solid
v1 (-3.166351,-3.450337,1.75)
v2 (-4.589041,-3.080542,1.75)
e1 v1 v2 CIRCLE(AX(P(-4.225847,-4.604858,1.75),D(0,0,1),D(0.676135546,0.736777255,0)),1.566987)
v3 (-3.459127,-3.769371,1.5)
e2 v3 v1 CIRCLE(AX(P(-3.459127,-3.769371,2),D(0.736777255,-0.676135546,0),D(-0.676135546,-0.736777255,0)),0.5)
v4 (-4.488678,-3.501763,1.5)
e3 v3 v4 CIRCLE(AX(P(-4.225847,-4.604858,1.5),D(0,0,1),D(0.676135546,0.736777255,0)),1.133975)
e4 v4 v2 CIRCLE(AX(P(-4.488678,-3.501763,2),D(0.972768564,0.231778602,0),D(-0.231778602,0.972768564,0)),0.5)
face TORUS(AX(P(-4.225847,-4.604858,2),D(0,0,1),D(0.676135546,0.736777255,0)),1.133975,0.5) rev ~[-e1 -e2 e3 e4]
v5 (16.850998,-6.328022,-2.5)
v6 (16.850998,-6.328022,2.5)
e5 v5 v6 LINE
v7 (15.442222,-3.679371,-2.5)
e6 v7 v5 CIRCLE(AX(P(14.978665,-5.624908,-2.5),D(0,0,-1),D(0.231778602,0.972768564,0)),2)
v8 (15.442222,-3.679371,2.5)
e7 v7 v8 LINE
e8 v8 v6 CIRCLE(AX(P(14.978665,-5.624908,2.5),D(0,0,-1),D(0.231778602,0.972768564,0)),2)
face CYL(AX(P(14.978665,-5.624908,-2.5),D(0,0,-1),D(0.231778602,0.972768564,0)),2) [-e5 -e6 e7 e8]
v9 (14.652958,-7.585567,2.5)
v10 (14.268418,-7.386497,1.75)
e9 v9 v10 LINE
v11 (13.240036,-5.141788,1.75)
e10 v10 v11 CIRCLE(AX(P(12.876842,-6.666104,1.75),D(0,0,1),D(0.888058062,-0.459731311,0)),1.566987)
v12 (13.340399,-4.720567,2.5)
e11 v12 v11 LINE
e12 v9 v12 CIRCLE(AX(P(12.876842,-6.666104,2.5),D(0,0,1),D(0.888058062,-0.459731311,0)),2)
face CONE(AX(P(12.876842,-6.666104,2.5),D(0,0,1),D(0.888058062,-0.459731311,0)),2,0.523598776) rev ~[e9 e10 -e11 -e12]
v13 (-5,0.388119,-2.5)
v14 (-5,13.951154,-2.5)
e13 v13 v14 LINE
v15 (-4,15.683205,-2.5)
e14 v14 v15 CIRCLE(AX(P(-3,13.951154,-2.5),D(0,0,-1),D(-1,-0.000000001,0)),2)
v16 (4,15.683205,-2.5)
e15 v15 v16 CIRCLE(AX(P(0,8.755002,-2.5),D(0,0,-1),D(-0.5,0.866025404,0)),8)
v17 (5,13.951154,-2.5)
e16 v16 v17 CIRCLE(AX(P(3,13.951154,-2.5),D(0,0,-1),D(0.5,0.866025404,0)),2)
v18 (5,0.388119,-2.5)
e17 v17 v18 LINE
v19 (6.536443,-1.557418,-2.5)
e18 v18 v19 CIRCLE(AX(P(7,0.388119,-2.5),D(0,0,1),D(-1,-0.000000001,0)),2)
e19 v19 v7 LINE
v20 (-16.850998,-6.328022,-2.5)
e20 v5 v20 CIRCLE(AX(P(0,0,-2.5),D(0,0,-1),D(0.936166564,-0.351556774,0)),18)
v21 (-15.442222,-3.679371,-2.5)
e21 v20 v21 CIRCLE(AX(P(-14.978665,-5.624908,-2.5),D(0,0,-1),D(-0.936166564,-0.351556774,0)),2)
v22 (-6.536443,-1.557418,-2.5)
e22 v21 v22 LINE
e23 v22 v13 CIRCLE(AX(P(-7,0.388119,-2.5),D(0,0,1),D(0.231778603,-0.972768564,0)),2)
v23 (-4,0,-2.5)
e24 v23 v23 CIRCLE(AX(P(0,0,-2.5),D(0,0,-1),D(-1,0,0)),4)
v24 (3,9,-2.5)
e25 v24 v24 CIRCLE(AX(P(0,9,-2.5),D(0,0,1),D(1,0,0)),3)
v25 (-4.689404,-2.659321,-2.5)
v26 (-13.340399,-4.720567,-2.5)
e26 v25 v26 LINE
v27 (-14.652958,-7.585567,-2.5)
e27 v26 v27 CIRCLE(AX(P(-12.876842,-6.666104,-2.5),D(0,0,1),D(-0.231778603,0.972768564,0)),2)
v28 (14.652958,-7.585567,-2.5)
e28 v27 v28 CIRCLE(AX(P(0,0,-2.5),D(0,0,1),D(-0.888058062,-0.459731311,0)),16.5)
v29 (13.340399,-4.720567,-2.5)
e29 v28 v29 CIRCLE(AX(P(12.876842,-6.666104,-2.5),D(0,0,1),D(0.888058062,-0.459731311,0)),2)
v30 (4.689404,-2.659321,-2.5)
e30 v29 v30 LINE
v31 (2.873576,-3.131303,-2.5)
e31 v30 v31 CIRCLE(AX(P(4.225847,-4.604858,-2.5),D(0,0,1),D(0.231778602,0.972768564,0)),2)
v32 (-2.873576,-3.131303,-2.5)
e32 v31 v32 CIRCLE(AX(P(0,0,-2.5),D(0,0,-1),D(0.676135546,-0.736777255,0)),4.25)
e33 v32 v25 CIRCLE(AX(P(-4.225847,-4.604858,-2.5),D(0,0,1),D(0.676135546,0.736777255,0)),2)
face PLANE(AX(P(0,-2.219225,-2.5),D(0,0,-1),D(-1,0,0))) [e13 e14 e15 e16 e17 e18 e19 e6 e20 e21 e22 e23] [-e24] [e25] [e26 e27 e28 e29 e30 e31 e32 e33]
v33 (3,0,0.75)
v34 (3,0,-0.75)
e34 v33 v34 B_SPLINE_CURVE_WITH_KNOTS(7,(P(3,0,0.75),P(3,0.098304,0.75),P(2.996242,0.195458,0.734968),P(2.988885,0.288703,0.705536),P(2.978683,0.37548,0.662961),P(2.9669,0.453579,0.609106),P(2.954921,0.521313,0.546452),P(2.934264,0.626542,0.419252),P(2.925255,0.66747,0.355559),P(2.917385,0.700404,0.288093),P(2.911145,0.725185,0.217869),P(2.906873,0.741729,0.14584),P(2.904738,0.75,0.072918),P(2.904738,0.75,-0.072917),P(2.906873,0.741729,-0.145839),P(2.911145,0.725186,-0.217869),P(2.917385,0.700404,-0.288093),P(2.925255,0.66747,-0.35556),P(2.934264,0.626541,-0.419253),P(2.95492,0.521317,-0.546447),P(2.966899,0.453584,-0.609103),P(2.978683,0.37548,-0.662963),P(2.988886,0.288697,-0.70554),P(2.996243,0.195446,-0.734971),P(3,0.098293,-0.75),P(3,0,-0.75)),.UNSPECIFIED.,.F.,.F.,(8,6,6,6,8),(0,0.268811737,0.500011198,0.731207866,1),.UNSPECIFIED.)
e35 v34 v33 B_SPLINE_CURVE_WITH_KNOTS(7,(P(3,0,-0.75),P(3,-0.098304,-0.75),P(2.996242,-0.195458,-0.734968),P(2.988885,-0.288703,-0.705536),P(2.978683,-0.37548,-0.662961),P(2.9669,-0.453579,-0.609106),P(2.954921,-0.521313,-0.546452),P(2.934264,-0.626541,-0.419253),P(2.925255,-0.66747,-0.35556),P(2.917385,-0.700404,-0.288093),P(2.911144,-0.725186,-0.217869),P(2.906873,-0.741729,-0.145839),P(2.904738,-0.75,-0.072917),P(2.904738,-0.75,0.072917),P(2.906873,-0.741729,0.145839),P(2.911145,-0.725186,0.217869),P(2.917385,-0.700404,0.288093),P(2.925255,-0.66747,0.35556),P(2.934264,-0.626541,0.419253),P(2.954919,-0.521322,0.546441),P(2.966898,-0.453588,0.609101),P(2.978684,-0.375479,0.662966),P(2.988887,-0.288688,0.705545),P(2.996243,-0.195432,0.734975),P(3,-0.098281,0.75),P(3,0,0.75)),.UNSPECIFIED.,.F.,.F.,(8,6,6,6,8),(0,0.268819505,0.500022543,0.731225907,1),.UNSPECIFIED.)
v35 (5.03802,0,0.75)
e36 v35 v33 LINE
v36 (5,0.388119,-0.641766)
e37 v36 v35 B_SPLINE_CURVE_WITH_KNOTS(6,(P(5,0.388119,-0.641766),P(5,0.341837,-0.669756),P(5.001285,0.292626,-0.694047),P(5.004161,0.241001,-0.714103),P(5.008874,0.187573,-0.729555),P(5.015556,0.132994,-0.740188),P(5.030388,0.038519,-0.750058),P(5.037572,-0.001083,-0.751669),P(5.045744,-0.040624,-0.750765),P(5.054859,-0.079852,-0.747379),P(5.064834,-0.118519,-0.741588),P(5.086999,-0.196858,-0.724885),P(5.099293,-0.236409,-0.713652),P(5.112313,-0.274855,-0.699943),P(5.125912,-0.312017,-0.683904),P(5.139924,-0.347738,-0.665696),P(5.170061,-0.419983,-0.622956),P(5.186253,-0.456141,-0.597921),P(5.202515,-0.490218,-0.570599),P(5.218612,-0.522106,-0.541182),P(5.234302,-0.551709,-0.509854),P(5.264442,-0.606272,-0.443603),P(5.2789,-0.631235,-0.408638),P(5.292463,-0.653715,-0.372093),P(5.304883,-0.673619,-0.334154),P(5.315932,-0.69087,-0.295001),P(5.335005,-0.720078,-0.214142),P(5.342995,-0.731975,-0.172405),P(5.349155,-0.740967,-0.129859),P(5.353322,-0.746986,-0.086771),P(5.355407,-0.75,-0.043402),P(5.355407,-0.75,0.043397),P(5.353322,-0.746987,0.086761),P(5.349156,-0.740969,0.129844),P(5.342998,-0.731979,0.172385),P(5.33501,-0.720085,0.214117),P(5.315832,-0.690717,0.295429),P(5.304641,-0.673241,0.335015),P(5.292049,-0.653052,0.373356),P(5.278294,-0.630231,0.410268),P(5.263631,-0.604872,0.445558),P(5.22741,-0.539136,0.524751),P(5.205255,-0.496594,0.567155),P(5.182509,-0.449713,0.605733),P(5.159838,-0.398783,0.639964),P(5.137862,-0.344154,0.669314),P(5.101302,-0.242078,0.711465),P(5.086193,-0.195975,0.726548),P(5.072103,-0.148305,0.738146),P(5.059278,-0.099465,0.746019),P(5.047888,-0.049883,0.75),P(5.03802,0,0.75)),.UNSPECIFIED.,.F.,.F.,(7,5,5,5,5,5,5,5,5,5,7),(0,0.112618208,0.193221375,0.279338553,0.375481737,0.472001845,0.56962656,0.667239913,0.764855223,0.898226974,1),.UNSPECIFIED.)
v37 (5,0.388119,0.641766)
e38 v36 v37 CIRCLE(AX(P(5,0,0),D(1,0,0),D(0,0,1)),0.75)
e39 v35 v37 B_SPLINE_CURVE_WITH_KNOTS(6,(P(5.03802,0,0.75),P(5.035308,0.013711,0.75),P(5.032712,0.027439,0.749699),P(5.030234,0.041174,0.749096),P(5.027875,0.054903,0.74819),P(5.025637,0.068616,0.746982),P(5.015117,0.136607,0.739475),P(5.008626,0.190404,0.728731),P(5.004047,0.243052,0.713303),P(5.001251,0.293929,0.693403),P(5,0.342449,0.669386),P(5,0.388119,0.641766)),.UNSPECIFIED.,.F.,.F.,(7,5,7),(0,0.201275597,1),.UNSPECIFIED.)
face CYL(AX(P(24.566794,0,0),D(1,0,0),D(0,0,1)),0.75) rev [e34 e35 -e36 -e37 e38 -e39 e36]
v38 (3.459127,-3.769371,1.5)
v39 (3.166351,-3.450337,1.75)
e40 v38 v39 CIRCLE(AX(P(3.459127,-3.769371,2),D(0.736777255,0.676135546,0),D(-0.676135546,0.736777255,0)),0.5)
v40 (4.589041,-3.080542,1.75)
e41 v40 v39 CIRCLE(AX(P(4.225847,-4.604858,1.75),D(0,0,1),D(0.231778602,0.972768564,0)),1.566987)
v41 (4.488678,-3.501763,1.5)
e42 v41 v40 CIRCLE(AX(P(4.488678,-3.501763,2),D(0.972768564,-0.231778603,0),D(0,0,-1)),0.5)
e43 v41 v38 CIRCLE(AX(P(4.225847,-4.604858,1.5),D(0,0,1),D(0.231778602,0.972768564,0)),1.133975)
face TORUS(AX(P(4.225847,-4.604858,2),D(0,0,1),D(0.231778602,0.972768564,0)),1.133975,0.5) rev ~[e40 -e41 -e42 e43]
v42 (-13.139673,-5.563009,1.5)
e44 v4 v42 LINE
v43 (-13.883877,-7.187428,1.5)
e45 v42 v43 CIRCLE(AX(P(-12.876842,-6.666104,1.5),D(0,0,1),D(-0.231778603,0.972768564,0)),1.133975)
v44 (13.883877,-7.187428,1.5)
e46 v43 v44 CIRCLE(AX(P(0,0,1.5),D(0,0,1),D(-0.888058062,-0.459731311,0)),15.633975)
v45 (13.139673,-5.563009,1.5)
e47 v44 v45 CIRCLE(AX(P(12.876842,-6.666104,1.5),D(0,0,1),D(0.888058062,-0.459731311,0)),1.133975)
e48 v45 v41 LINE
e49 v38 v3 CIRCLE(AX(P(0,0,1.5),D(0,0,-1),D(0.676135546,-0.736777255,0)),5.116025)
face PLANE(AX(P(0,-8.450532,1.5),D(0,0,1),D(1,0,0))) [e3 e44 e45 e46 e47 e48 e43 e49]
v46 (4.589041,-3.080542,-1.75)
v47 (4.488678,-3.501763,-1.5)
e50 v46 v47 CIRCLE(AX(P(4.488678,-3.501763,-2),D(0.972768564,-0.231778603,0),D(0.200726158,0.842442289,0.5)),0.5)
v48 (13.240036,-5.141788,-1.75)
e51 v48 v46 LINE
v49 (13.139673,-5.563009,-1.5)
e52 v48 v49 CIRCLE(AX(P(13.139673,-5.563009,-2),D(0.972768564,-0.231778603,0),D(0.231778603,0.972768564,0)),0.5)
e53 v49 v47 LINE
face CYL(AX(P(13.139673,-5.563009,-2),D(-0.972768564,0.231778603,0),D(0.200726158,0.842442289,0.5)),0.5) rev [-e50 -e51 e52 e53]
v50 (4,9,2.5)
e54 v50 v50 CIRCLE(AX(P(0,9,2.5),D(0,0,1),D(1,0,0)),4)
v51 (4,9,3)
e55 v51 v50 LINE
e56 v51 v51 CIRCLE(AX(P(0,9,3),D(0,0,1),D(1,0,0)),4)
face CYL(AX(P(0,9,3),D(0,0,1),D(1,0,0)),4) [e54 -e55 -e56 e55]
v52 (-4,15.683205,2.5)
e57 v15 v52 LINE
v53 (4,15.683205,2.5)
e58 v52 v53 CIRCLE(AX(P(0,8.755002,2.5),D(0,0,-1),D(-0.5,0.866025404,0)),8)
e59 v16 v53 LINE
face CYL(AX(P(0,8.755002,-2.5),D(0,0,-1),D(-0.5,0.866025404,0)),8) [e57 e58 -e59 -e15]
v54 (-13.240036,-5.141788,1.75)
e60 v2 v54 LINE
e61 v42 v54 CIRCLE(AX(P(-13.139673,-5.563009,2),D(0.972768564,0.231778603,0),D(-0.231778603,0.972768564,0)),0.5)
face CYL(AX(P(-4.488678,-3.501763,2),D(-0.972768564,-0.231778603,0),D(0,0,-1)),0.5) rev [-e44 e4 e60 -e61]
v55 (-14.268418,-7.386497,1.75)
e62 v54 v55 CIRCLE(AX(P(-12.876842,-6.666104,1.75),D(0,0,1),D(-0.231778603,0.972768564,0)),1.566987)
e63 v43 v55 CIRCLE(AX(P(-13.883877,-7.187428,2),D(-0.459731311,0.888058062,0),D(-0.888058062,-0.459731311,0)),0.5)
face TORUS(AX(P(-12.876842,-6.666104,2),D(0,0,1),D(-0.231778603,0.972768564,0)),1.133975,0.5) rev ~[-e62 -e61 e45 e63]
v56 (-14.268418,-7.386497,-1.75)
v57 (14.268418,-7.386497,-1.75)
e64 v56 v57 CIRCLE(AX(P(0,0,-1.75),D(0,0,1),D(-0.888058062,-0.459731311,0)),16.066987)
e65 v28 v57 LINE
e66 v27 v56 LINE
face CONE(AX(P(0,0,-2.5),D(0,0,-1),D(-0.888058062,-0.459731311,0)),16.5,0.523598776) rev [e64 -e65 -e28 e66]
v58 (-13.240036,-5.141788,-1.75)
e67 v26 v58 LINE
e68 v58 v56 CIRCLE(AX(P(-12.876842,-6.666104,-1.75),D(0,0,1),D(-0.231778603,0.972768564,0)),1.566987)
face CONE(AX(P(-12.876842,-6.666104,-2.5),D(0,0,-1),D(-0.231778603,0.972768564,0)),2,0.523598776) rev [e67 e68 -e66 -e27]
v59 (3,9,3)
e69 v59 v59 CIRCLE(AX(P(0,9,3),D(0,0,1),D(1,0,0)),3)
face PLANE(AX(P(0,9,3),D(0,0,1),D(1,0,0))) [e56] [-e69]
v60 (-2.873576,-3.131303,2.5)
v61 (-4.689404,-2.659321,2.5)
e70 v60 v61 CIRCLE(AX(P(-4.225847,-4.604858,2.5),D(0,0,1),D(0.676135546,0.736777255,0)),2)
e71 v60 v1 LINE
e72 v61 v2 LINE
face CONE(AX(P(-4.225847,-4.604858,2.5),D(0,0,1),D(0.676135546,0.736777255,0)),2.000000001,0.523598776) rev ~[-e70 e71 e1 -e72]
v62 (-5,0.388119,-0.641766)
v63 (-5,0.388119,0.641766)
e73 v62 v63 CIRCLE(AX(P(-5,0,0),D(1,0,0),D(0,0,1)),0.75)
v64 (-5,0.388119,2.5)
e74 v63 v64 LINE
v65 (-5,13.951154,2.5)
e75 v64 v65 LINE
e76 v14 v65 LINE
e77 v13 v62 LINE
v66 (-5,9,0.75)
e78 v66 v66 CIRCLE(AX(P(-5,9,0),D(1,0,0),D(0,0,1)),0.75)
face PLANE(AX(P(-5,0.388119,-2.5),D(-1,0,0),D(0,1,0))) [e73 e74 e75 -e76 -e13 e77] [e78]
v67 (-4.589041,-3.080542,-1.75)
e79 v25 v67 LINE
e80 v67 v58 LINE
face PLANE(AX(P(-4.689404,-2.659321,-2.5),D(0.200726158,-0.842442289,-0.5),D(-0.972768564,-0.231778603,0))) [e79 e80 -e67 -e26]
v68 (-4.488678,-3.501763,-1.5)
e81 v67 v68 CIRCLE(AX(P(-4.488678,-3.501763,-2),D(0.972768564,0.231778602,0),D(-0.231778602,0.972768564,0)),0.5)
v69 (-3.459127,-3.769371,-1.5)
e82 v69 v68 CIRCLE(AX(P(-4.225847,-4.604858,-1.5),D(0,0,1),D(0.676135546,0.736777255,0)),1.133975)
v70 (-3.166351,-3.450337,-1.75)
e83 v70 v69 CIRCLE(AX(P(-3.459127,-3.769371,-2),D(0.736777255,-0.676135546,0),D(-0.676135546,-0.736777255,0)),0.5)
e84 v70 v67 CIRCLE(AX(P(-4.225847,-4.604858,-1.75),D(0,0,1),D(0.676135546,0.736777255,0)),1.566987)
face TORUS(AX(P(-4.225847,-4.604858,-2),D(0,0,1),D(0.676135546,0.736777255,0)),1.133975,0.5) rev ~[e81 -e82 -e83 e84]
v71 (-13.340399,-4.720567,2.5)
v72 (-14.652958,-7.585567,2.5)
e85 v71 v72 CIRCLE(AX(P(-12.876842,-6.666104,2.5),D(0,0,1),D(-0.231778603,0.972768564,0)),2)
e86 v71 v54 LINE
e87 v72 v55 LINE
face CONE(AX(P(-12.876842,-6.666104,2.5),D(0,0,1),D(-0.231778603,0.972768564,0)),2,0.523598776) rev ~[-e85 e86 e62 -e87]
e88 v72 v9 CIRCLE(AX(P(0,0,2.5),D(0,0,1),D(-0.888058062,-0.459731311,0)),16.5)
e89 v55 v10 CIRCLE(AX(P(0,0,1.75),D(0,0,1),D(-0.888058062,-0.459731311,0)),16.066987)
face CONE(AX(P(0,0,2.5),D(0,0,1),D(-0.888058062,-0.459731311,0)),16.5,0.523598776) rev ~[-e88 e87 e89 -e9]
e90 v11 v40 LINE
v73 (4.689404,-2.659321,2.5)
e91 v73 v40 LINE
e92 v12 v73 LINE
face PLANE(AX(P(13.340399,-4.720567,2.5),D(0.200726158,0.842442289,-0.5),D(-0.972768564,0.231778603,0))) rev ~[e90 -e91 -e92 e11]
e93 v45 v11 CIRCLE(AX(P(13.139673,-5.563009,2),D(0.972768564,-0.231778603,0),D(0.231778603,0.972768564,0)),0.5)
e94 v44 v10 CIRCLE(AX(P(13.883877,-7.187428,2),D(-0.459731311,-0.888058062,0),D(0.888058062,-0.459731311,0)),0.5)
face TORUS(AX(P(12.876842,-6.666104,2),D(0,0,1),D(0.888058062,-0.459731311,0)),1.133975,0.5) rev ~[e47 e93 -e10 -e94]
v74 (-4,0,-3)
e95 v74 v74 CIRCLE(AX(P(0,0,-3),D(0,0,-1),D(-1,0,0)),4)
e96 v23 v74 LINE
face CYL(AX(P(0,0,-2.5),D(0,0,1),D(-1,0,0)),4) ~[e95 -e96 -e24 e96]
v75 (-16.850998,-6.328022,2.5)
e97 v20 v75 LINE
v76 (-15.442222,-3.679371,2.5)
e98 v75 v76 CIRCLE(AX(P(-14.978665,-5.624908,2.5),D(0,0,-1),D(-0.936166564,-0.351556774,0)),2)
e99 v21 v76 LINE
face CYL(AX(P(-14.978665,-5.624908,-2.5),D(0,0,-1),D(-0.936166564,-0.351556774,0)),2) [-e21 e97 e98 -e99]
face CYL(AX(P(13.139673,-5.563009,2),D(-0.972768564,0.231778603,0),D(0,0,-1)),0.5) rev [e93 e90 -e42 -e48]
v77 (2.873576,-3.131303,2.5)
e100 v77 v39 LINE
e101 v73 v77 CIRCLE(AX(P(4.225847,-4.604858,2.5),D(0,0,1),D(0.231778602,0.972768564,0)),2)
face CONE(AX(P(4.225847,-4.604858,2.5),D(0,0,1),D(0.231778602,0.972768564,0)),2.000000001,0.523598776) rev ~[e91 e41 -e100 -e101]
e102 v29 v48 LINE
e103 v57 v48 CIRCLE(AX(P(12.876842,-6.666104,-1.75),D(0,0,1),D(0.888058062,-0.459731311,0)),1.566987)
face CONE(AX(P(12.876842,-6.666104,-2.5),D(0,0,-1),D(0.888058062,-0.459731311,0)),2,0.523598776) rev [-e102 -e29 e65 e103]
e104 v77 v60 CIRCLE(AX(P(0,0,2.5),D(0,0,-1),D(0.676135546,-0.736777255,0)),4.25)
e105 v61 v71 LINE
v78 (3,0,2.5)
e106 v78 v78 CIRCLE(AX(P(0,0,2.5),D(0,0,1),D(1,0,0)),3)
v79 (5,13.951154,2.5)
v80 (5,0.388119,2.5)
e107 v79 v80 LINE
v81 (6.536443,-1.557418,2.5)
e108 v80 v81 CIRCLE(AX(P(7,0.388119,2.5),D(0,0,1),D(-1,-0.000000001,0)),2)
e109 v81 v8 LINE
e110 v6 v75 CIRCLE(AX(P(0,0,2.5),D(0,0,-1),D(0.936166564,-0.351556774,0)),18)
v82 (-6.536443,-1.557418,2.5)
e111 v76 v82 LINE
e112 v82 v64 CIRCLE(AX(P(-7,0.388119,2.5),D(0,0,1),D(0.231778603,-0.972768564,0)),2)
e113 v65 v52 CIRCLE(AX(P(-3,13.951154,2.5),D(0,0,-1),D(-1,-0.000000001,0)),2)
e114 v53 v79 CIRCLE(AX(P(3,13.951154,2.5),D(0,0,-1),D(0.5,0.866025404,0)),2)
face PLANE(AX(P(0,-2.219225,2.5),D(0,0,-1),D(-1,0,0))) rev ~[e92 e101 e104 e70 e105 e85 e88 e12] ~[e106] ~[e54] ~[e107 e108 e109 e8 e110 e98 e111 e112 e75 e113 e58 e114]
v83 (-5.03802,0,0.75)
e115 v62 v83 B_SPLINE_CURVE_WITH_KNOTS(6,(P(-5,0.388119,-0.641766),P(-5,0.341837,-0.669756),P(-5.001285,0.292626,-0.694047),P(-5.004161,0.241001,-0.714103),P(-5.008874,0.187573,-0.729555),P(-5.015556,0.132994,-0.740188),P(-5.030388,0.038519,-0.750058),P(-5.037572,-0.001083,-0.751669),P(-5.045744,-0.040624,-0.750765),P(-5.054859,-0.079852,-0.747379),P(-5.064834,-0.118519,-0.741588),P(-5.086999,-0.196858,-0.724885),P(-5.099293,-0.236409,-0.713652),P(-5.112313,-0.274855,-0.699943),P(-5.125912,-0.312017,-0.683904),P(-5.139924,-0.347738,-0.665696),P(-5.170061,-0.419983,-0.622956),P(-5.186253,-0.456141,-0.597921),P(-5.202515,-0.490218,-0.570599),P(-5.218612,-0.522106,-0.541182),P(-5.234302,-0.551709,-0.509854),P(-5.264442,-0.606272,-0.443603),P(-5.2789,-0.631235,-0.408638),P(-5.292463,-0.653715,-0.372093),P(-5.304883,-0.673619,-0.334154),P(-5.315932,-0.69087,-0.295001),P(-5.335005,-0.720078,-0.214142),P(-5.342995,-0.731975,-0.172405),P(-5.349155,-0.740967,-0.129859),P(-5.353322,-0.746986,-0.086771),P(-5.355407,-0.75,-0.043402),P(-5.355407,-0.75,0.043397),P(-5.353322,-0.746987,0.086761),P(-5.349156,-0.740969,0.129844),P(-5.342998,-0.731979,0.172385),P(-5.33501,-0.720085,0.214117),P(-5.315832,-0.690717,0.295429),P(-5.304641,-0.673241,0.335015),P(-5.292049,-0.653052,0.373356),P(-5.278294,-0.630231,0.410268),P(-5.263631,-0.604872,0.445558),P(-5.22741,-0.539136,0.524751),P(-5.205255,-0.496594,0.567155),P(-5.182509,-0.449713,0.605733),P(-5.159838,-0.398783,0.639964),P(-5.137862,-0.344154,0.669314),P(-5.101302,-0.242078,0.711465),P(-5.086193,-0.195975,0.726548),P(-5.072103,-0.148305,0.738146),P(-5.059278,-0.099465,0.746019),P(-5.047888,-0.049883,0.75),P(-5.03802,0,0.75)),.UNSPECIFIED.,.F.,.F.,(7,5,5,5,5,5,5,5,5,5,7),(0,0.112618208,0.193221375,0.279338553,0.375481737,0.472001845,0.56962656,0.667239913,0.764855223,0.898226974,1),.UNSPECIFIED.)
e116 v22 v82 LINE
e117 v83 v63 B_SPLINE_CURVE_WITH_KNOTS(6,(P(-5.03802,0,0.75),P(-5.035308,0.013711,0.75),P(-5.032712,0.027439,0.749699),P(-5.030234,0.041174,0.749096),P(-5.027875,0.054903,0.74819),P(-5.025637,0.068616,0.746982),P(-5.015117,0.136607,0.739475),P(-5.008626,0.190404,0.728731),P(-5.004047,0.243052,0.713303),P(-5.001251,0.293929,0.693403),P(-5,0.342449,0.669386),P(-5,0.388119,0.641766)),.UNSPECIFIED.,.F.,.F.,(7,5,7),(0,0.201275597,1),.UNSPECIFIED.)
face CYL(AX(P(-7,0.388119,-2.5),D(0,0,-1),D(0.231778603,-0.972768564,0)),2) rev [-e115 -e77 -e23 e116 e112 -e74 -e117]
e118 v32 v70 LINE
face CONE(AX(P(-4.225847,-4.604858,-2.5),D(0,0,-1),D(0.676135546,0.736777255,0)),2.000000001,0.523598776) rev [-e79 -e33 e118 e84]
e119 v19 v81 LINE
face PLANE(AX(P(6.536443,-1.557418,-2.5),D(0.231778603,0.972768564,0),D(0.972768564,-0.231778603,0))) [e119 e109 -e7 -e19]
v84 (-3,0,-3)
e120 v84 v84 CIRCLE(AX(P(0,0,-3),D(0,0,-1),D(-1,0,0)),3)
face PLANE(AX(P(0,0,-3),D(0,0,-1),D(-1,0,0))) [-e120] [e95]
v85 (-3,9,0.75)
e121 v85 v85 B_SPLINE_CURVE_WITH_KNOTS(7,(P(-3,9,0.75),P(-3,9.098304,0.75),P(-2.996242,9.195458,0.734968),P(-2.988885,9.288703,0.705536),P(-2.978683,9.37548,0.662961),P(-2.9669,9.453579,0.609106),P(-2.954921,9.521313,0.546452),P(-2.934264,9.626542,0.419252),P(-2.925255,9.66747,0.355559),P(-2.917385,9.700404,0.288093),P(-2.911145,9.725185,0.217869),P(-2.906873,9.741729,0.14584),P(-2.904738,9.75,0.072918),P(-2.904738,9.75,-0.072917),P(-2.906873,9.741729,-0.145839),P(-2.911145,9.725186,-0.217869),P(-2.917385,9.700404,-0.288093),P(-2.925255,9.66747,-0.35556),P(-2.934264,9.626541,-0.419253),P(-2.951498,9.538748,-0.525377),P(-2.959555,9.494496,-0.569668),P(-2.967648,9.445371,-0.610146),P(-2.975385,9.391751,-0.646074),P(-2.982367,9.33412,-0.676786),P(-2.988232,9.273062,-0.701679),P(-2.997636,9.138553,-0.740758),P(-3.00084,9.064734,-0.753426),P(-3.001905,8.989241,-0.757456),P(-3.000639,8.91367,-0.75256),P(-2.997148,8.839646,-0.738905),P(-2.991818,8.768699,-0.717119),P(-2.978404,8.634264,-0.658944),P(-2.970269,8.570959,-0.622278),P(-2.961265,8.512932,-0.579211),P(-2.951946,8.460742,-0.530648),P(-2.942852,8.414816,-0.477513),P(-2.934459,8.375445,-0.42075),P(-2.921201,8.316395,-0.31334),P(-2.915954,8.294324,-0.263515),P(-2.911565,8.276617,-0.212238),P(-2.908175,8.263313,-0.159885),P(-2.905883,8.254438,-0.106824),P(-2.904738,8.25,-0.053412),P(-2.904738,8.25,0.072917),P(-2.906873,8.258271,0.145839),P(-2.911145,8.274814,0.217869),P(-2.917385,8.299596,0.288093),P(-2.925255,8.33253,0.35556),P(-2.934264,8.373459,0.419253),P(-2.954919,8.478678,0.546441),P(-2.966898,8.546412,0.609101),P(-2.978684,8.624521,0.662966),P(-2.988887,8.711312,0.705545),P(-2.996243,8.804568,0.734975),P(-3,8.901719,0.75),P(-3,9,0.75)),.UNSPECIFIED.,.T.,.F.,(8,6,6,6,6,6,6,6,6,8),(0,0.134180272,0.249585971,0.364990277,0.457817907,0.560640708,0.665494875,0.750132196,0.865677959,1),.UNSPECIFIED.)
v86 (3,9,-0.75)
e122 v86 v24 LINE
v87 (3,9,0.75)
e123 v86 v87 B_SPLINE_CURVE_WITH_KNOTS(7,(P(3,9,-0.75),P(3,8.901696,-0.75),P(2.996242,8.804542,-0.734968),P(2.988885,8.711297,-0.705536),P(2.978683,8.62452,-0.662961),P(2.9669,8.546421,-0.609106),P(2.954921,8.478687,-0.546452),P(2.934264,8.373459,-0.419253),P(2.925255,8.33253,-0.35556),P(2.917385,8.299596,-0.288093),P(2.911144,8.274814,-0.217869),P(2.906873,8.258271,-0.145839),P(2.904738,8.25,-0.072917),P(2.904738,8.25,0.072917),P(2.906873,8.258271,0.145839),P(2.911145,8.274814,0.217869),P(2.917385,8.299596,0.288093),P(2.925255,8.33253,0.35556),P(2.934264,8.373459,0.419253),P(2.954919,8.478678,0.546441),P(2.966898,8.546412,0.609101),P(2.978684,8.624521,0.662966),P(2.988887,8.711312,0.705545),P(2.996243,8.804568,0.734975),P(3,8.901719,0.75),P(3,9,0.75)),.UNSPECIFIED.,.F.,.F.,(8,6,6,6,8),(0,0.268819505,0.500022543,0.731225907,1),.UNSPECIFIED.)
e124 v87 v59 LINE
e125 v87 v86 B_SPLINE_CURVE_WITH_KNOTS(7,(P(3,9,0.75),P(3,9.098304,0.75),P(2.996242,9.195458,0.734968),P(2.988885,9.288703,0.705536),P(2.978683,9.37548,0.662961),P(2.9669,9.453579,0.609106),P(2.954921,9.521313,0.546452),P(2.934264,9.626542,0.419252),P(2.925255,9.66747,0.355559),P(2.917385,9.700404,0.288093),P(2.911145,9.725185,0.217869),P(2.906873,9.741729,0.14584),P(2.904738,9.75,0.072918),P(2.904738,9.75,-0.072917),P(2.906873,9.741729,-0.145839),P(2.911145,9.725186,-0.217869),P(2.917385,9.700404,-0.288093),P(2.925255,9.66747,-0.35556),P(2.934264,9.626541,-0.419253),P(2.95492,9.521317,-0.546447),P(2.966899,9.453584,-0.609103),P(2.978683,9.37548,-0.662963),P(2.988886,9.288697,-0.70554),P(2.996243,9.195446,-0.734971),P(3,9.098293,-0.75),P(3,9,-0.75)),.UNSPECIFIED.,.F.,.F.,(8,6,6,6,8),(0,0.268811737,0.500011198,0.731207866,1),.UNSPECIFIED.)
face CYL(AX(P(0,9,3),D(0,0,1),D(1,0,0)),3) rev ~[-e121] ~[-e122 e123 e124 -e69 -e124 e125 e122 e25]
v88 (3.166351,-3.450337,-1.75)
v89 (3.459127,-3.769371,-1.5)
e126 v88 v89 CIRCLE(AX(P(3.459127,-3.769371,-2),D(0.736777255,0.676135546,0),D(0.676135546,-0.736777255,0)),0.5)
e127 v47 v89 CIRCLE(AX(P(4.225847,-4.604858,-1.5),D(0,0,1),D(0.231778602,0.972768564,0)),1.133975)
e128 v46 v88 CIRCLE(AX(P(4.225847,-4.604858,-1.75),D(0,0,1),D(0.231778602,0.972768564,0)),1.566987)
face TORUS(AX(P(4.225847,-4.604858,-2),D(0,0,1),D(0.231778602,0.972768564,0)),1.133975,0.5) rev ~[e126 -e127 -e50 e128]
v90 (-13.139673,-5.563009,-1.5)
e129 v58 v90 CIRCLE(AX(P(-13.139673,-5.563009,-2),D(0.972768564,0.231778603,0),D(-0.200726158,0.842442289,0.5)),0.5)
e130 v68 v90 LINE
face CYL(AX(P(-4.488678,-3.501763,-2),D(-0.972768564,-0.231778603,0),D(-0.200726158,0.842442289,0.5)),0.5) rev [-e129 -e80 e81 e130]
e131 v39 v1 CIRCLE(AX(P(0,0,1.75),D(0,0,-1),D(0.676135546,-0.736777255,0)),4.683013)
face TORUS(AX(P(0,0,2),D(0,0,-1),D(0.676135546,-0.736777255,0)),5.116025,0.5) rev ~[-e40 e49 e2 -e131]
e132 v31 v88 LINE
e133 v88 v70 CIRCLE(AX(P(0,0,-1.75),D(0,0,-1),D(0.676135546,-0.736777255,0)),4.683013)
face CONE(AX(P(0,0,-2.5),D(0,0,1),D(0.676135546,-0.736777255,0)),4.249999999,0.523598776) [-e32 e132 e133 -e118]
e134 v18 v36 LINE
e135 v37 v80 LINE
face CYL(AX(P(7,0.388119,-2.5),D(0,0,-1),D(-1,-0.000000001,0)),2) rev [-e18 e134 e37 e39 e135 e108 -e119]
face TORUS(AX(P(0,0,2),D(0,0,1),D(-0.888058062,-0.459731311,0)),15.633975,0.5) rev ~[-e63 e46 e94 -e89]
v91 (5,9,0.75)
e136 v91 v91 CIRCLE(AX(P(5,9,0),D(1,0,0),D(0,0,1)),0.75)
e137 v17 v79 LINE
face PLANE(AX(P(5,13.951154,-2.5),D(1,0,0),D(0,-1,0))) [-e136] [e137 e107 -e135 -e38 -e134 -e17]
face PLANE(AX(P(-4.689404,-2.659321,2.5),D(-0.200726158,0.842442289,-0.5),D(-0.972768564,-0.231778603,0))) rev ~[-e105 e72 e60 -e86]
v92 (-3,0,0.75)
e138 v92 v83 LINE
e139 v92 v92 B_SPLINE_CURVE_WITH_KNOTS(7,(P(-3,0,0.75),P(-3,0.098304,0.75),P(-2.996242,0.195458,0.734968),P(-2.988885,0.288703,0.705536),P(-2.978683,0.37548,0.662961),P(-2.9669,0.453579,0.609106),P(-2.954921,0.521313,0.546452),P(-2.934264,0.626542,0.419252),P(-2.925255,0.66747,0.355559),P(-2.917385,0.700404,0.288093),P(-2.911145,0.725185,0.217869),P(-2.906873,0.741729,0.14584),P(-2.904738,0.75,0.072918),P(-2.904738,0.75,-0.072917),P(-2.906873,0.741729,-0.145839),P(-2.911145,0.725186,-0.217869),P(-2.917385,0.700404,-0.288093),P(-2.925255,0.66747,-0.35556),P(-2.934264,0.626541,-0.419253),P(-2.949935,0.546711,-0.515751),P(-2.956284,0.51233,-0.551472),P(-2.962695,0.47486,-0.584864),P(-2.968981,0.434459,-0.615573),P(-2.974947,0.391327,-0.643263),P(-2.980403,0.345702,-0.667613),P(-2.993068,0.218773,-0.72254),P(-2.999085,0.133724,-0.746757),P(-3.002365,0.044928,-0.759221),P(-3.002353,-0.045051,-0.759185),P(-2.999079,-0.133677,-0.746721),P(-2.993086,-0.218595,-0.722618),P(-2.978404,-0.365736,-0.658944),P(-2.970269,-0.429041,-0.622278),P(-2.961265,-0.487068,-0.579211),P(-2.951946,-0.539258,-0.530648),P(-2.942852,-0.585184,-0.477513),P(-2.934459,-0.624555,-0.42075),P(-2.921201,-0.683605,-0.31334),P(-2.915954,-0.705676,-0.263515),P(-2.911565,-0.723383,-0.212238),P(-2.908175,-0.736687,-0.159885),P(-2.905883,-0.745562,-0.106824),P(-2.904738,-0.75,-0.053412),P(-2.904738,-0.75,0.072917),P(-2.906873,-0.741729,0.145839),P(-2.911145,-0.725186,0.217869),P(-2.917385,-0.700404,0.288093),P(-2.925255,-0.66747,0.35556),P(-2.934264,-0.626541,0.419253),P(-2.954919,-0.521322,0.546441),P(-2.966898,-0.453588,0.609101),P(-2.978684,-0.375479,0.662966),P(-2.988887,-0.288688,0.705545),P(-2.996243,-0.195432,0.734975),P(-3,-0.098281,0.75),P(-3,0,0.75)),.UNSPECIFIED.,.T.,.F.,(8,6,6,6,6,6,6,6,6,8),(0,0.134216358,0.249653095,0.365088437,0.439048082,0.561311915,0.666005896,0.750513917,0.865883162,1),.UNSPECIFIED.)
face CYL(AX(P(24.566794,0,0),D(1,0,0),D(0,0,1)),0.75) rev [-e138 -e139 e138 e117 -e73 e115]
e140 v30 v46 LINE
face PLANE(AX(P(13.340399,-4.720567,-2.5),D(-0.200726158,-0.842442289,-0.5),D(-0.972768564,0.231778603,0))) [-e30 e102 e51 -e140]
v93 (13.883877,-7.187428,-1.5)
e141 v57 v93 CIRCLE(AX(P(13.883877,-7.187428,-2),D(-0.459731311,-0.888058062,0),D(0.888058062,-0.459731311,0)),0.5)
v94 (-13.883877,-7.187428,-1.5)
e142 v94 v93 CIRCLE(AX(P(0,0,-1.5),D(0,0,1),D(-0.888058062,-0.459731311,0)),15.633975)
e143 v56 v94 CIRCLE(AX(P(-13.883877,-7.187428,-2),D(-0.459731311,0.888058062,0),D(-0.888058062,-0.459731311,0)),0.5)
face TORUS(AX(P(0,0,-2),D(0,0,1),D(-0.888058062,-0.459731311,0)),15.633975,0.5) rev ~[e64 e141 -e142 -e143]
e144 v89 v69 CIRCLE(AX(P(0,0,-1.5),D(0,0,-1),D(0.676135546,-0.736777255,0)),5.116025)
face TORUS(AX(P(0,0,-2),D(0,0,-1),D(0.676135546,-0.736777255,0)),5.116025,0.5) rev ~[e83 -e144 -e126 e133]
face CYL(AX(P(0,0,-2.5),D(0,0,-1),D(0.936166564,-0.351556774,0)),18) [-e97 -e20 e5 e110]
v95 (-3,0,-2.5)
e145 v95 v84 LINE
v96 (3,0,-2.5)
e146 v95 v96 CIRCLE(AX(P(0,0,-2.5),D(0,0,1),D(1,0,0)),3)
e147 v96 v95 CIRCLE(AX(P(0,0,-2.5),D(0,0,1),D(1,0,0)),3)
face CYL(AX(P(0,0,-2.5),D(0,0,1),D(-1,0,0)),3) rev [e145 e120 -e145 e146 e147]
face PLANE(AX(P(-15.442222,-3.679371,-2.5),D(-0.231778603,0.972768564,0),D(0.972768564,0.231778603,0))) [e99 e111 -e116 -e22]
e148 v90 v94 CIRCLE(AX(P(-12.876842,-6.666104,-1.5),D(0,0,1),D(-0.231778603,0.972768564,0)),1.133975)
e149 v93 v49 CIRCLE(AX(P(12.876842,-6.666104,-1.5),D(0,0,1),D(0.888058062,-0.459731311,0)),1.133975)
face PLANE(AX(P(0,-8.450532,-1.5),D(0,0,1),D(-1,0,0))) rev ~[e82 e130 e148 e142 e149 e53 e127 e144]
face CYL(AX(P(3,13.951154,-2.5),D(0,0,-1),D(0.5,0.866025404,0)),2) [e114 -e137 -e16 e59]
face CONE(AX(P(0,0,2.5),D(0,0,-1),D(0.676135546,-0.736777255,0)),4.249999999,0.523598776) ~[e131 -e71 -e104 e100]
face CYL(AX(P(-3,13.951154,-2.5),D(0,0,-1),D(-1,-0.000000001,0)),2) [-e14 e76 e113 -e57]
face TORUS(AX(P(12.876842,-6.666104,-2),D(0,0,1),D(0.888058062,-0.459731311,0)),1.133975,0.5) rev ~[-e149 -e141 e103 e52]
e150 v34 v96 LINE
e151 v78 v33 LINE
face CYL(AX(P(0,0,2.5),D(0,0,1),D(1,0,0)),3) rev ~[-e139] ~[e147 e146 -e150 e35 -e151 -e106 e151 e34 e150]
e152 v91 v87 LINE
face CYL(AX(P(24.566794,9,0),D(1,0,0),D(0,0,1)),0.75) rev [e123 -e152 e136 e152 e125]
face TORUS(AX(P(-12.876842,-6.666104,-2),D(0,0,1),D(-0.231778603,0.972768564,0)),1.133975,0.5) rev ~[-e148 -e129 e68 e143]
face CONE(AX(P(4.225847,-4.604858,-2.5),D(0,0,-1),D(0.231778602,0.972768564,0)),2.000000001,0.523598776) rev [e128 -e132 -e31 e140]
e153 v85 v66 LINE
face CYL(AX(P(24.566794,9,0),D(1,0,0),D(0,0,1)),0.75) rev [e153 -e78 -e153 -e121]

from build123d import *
from build123d.topology import SkipClean

# Parameters (mm, degrees)
BOSS_EXTRUDE1_DEPTH      = 2.5
BOSS_EXTRUDE1_DEPTH_BACK = 2.5
CUT_EXTRUDE1_DEPTH       = 1
CUT_EXTRUDE1_DRAFT       = -30
MIRROR1_COPY_1_DEPTH     = 1
MIRROR1_COPY_1_DRAFT     = -30
SKETCH4_R                = 3
CUT_EXTRUDE3_DEPTH       = 26.244307592
SKETCH7_R                = 4
SKETCH7_R_2              = 3
BOSS_EXTRUDE3_DEPTH      = 0.5
SKETCH8_R                = 3
CUT_EXTRUDE4_DEPTH       = 26.348078148
BOSS_EXTRUDE4_START      = 0.5
SKETCH9_R                = 4
SKETCH9_R_2              = 3
BOSS_EXTRUDE4_DEPTH      = 0.5
CUT_EXTRUDE5_DEPTH       = 29.56679394
CUT_EXTRUDE5_DEPTH_BACK  = 29.56679394
SKETCH10_R               = 0.75
FILLET1_R                = 0.5
FILLET2_R                = 0.5


with BuildPart() as part:
    # Sketch2 → Boss-Extrude1 (new, two sides: drawn at the far end of the back side and taken through both)
    with BuildSketch(Plane.XY.offset(-BOSS_EXTRUDE1_DEPTH_BACK)):
        with BuildLine():
            Line((-15.442222224, -3.67937125), (-6.536442795, -1.557418314))
            ThreePointArc((-6.536442795, -1.557418314), (-5.4304277, -0.851414482), (-5, 0.388118815))
            Line((-5, 0.388118815), (-5, 13.951154424))
            ThreePointArc((-5, 13.951154424), (-4.732050808, 14.951154424), (-4, 15.683205232))
            ThreePointArc((-4, 15.683205232), (0, 16.755002002), (4, 15.683205232))
            ThreePointArc((4, 15.683205232), (4.732050808, 14.951154424), (5, 13.951154424))
            Line((5, 13.951154424), (5, 0.388118815))
            ThreePointArc((5, 0.388118815), (5.4304277, -0.851414482), (6.536442795, -1.557418314))
            Line((6.536442795, -1.557418314), (15.442222224, -3.67937125))
            ThreePointArc((15.442222224, -3.67937125), (16.744432136, -4.68572443), (16.850998146, -6.328021925))
            ThreePointArc((16.850998146, -6.328021925), (0, -18), (-16.850998146, -6.328021925))
            ThreePointArc((-16.850998146, -6.328021925), (-16.744432136, -4.68572443), (-15.442222224, -3.67937125))
        make_face()
    extrude(amount=BOSS_EXTRUDE1_DEPTH + BOSS_EXTRUDE1_DEPTH_BACK)


with BuildPart() as cut_extrude1_tool:
    # Sketch3 → Cut-Extrude1 (with draft: the straight prism first)
    with BuildSketch(Plane.XY.offset(2.5)):
        with BuildLine():
            ThreePointArc((-13.340399108, -4.720566877), (-14.695107573, -5.833091429), (-14.652958027, -7.585566627))
            ThreePointArc((-14.652958027, -7.585566627), (0, -16.5), (14.652958027, -7.585566627))
            ThreePointArc((14.652958027, -7.585566627), (14.695107573, -5.833091429), (13.340399108, -4.720566877))
            Line((13.340399108, -4.720566877), (4.68940437, -2.659320713))
            ThreePointArc((4.68940437, -2.659320713), (3.722712002, -2.669178372), (2.873576072, -3.131303332))
            ThreePointArc((2.873576072, -3.131303332), (0, -4.25), (-2.873576072, -3.131303332))
            ThreePointArc((-2.873576072, -3.131303332), (-3.722712002, -2.669178372), (-4.68940437, -2.659320713))
            Line((-4.68940437, -2.659320713), (-13.340399108, -4.720566877))
        make_face()
    extrude(amount=-CUT_EXTRUDE1_DEPTH)
    # Cut-Extrude1: the draft: its side faces are tilted about the plane it starts from
    cut_extrude1_sides = [cut_extrude1_tool.faces().sort_by_distance(p)[0] for p in [
        (0, -4.25, 2),
        (-3.722712002, -2.669178372, 2),
        (-9.014901739, -3.689943795, 2),
        (-14.695107573, -5.833091429, 2),
        (0, -16.5, 2),
        (14.695107573, -5.833091429, 2),
        (9.014901739, -3.689943795, 2),
        (3.722712002, -2.669178372, 2),
    ]]
    draft(cut_extrude1_sides, Plane.XY.offset(2.5), CUT_EXTRUDE1_DRAFT)


with BuildPart() as part_1:
    add(part.part)

    # Cut-Extrude1: cut by cut_extrude1_tool
    add(cut_extrude1_tool.part, mode=Mode.SUBTRACT)


with BuildPart() as mirror1_copy_1_tool:
    # Mirror1 copy 1 sketch → Mirror1 copy 1 (with draft: the straight prism first)
    with BuildSketch(Plane(origin=(0, 0, -2.5), x_dir=(1, 0, 0), z_dir=(0, 0, -1))):
        with BuildLine():
            ThreePointArc((-13.340399108, 4.720566877), (-14.695107573, 5.833091429), (-14.652958027, 7.585566627))
            ThreePointArc((-14.652958027, 7.585566627), (0, 16.5), (14.652958027, 7.585566627))
            ThreePointArc((14.652958027, 7.585566627), (14.695107573, 5.833091429), (13.340399108, 4.720566877))
            Line((13.340399108, 4.720566877), (4.68940437, 2.659320713))
            ThreePointArc((4.68940437, 2.659320713), (3.722712002, 2.669178372), (2.873576072, 3.131303332))
            ThreePointArc((2.873576072, 3.131303332), (0, 4.25), (-2.873576072, 3.131303332))
            ThreePointArc((-2.873576072, 3.131303332), (-3.722712002, 2.669178372), (-4.68940437, 2.659320713))
            Line((-4.68940437, 2.659320713), (-13.340399108, 4.720566877))
        make_face()
    extrude(amount=-MIRROR1_COPY_1_DEPTH)
    # Mirror1 copy 1: the draft: its side faces are tilted about the plane it starts from
    mirror1_copy_1_sides = [mirror1_copy_1_tool.faces().sort_by_distance(p)[0] for p in [
        (0, -4.25, -2),
        (-3.722712002, -2.669178372, -2),
        (-9.014901739, -3.689943795, -2),
        (-14.695107573, -5.833091429, -2),
        (0, -16.5, -2),
        (14.695107573, -5.833091429, -2),
        (9.014901739, -3.689943795, -2),
        (3.722712002, -2.669178372, -2),
    ]]
    draft(mirror1_copy_1_sides, Plane(origin=(0, 0, -2.5), x_dir=(1, 0, 0), z_dir=(0, 0, -1)), MIRROR1_COPY_1_DRAFT)


with BuildPart() as part_2:
    add(part_1.part)

    # Mirror1 copy 1: cut by mirror1_copy_1_tool
    add(mirror1_copy_1_tool.part, mode=Mode.SUBTRACT)

    # Sketch4 → Cut-Extrude3 (cut, through all)
    with BuildSketch(Plane.XY.offset(2.5)):
        Circle(SKETCH4_R)
    extrude(amount=-CUT_EXTRUDE3_DEPTH, mode=Mode.SUBTRACT)

    # Sketch7 → Boss-Extrude3 (add)
    with SkipClean():  # the faces are left unmerged after this step: merging them gives an invalid solid
        with BuildSketch(Plane(origin=(0, 0, -2.5), x_dir=(-1, 0, 0), z_dir=(0, 0, -1))):
            Circle(SKETCH7_R)
            Circle(SKETCH7_R_2, mode=Mode.SUBTRACT)
        extrude(amount=BOSS_EXTRUDE3_DEPTH)

    # Sketch8 → Cut-Extrude4 (cut, through all)
    with SkipClean():  # the faces are left unmerged after this step: merging them gives an invalid solid
        with BuildSketch(Plane.XY.offset(2.5)):
            with Locations((0, 9)):
                Circle(SKETCH8_R)
        extrude(amount=-CUT_EXTRUDE4_DEPTH, mode=Mode.SUBTRACT)

    # Sketch9 → Boss-Extrude4 (add)
    with SkipClean():  # the faces are left unmerged after this step: merging them gives an invalid solid
        with BuildSketch(Plane.XY.offset(2.5).offset(BOSS_EXTRUDE4_START)):
            with Locations((0, 9)):
                Circle(SKETCH9_R)
            with Locations((0, 9)):
                Circle(SKETCH9_R_2, mode=Mode.SUBTRACT)
        extrude(amount=-BOSS_EXTRUDE4_DEPTH)

    # Sketch10 → Cut-Extrude5 (cut, two sides: drawn at the far end of the back side and taken through both)
    with BuildSketch(Plane.ZY.offset(5).offset(-CUT_EXTRUDE5_DEPTH_BACK)):
        with Locations((0, 9)):
            Circle(SKETCH10_R)
        Circle(SKETCH10_R)
    extrude(amount=CUT_EXTRUDE5_DEPTH + CUT_EXTRUDE5_DEPTH_BACK, mode=Mode.SUBTRACT)

    # Fillet1
    fillet1_edges = [part_2.edges().sort_by_distance(p)[0] for p in [
        (-14.170219486, -6.073561446, 1.5),
        (-8.8810843, -4.251571987, 1.5),
        (-3.867954613, -3.227960903, 1.5),
        (0, -4.827350269, 1.5),
        (3.867954613, -3.227960903, 1.5),
        (8.8810843, -4.251571987, 1.5),
        (14.170219486, -6.073561446, 1.5),
        (0, -15.922649731, 1.5),
    ]]
    fillet(fillet1_edges, radius=FILLET1_R)

    # Fillet2
    fillet2_edges = [part_2.edges().sort_by_distance(p)[0] for p in [
        (0, -4.827350269, -1.5),
    ]]
    fillet(fillet2_edges, radius=FILLET2_R)


solid = part_2.part
